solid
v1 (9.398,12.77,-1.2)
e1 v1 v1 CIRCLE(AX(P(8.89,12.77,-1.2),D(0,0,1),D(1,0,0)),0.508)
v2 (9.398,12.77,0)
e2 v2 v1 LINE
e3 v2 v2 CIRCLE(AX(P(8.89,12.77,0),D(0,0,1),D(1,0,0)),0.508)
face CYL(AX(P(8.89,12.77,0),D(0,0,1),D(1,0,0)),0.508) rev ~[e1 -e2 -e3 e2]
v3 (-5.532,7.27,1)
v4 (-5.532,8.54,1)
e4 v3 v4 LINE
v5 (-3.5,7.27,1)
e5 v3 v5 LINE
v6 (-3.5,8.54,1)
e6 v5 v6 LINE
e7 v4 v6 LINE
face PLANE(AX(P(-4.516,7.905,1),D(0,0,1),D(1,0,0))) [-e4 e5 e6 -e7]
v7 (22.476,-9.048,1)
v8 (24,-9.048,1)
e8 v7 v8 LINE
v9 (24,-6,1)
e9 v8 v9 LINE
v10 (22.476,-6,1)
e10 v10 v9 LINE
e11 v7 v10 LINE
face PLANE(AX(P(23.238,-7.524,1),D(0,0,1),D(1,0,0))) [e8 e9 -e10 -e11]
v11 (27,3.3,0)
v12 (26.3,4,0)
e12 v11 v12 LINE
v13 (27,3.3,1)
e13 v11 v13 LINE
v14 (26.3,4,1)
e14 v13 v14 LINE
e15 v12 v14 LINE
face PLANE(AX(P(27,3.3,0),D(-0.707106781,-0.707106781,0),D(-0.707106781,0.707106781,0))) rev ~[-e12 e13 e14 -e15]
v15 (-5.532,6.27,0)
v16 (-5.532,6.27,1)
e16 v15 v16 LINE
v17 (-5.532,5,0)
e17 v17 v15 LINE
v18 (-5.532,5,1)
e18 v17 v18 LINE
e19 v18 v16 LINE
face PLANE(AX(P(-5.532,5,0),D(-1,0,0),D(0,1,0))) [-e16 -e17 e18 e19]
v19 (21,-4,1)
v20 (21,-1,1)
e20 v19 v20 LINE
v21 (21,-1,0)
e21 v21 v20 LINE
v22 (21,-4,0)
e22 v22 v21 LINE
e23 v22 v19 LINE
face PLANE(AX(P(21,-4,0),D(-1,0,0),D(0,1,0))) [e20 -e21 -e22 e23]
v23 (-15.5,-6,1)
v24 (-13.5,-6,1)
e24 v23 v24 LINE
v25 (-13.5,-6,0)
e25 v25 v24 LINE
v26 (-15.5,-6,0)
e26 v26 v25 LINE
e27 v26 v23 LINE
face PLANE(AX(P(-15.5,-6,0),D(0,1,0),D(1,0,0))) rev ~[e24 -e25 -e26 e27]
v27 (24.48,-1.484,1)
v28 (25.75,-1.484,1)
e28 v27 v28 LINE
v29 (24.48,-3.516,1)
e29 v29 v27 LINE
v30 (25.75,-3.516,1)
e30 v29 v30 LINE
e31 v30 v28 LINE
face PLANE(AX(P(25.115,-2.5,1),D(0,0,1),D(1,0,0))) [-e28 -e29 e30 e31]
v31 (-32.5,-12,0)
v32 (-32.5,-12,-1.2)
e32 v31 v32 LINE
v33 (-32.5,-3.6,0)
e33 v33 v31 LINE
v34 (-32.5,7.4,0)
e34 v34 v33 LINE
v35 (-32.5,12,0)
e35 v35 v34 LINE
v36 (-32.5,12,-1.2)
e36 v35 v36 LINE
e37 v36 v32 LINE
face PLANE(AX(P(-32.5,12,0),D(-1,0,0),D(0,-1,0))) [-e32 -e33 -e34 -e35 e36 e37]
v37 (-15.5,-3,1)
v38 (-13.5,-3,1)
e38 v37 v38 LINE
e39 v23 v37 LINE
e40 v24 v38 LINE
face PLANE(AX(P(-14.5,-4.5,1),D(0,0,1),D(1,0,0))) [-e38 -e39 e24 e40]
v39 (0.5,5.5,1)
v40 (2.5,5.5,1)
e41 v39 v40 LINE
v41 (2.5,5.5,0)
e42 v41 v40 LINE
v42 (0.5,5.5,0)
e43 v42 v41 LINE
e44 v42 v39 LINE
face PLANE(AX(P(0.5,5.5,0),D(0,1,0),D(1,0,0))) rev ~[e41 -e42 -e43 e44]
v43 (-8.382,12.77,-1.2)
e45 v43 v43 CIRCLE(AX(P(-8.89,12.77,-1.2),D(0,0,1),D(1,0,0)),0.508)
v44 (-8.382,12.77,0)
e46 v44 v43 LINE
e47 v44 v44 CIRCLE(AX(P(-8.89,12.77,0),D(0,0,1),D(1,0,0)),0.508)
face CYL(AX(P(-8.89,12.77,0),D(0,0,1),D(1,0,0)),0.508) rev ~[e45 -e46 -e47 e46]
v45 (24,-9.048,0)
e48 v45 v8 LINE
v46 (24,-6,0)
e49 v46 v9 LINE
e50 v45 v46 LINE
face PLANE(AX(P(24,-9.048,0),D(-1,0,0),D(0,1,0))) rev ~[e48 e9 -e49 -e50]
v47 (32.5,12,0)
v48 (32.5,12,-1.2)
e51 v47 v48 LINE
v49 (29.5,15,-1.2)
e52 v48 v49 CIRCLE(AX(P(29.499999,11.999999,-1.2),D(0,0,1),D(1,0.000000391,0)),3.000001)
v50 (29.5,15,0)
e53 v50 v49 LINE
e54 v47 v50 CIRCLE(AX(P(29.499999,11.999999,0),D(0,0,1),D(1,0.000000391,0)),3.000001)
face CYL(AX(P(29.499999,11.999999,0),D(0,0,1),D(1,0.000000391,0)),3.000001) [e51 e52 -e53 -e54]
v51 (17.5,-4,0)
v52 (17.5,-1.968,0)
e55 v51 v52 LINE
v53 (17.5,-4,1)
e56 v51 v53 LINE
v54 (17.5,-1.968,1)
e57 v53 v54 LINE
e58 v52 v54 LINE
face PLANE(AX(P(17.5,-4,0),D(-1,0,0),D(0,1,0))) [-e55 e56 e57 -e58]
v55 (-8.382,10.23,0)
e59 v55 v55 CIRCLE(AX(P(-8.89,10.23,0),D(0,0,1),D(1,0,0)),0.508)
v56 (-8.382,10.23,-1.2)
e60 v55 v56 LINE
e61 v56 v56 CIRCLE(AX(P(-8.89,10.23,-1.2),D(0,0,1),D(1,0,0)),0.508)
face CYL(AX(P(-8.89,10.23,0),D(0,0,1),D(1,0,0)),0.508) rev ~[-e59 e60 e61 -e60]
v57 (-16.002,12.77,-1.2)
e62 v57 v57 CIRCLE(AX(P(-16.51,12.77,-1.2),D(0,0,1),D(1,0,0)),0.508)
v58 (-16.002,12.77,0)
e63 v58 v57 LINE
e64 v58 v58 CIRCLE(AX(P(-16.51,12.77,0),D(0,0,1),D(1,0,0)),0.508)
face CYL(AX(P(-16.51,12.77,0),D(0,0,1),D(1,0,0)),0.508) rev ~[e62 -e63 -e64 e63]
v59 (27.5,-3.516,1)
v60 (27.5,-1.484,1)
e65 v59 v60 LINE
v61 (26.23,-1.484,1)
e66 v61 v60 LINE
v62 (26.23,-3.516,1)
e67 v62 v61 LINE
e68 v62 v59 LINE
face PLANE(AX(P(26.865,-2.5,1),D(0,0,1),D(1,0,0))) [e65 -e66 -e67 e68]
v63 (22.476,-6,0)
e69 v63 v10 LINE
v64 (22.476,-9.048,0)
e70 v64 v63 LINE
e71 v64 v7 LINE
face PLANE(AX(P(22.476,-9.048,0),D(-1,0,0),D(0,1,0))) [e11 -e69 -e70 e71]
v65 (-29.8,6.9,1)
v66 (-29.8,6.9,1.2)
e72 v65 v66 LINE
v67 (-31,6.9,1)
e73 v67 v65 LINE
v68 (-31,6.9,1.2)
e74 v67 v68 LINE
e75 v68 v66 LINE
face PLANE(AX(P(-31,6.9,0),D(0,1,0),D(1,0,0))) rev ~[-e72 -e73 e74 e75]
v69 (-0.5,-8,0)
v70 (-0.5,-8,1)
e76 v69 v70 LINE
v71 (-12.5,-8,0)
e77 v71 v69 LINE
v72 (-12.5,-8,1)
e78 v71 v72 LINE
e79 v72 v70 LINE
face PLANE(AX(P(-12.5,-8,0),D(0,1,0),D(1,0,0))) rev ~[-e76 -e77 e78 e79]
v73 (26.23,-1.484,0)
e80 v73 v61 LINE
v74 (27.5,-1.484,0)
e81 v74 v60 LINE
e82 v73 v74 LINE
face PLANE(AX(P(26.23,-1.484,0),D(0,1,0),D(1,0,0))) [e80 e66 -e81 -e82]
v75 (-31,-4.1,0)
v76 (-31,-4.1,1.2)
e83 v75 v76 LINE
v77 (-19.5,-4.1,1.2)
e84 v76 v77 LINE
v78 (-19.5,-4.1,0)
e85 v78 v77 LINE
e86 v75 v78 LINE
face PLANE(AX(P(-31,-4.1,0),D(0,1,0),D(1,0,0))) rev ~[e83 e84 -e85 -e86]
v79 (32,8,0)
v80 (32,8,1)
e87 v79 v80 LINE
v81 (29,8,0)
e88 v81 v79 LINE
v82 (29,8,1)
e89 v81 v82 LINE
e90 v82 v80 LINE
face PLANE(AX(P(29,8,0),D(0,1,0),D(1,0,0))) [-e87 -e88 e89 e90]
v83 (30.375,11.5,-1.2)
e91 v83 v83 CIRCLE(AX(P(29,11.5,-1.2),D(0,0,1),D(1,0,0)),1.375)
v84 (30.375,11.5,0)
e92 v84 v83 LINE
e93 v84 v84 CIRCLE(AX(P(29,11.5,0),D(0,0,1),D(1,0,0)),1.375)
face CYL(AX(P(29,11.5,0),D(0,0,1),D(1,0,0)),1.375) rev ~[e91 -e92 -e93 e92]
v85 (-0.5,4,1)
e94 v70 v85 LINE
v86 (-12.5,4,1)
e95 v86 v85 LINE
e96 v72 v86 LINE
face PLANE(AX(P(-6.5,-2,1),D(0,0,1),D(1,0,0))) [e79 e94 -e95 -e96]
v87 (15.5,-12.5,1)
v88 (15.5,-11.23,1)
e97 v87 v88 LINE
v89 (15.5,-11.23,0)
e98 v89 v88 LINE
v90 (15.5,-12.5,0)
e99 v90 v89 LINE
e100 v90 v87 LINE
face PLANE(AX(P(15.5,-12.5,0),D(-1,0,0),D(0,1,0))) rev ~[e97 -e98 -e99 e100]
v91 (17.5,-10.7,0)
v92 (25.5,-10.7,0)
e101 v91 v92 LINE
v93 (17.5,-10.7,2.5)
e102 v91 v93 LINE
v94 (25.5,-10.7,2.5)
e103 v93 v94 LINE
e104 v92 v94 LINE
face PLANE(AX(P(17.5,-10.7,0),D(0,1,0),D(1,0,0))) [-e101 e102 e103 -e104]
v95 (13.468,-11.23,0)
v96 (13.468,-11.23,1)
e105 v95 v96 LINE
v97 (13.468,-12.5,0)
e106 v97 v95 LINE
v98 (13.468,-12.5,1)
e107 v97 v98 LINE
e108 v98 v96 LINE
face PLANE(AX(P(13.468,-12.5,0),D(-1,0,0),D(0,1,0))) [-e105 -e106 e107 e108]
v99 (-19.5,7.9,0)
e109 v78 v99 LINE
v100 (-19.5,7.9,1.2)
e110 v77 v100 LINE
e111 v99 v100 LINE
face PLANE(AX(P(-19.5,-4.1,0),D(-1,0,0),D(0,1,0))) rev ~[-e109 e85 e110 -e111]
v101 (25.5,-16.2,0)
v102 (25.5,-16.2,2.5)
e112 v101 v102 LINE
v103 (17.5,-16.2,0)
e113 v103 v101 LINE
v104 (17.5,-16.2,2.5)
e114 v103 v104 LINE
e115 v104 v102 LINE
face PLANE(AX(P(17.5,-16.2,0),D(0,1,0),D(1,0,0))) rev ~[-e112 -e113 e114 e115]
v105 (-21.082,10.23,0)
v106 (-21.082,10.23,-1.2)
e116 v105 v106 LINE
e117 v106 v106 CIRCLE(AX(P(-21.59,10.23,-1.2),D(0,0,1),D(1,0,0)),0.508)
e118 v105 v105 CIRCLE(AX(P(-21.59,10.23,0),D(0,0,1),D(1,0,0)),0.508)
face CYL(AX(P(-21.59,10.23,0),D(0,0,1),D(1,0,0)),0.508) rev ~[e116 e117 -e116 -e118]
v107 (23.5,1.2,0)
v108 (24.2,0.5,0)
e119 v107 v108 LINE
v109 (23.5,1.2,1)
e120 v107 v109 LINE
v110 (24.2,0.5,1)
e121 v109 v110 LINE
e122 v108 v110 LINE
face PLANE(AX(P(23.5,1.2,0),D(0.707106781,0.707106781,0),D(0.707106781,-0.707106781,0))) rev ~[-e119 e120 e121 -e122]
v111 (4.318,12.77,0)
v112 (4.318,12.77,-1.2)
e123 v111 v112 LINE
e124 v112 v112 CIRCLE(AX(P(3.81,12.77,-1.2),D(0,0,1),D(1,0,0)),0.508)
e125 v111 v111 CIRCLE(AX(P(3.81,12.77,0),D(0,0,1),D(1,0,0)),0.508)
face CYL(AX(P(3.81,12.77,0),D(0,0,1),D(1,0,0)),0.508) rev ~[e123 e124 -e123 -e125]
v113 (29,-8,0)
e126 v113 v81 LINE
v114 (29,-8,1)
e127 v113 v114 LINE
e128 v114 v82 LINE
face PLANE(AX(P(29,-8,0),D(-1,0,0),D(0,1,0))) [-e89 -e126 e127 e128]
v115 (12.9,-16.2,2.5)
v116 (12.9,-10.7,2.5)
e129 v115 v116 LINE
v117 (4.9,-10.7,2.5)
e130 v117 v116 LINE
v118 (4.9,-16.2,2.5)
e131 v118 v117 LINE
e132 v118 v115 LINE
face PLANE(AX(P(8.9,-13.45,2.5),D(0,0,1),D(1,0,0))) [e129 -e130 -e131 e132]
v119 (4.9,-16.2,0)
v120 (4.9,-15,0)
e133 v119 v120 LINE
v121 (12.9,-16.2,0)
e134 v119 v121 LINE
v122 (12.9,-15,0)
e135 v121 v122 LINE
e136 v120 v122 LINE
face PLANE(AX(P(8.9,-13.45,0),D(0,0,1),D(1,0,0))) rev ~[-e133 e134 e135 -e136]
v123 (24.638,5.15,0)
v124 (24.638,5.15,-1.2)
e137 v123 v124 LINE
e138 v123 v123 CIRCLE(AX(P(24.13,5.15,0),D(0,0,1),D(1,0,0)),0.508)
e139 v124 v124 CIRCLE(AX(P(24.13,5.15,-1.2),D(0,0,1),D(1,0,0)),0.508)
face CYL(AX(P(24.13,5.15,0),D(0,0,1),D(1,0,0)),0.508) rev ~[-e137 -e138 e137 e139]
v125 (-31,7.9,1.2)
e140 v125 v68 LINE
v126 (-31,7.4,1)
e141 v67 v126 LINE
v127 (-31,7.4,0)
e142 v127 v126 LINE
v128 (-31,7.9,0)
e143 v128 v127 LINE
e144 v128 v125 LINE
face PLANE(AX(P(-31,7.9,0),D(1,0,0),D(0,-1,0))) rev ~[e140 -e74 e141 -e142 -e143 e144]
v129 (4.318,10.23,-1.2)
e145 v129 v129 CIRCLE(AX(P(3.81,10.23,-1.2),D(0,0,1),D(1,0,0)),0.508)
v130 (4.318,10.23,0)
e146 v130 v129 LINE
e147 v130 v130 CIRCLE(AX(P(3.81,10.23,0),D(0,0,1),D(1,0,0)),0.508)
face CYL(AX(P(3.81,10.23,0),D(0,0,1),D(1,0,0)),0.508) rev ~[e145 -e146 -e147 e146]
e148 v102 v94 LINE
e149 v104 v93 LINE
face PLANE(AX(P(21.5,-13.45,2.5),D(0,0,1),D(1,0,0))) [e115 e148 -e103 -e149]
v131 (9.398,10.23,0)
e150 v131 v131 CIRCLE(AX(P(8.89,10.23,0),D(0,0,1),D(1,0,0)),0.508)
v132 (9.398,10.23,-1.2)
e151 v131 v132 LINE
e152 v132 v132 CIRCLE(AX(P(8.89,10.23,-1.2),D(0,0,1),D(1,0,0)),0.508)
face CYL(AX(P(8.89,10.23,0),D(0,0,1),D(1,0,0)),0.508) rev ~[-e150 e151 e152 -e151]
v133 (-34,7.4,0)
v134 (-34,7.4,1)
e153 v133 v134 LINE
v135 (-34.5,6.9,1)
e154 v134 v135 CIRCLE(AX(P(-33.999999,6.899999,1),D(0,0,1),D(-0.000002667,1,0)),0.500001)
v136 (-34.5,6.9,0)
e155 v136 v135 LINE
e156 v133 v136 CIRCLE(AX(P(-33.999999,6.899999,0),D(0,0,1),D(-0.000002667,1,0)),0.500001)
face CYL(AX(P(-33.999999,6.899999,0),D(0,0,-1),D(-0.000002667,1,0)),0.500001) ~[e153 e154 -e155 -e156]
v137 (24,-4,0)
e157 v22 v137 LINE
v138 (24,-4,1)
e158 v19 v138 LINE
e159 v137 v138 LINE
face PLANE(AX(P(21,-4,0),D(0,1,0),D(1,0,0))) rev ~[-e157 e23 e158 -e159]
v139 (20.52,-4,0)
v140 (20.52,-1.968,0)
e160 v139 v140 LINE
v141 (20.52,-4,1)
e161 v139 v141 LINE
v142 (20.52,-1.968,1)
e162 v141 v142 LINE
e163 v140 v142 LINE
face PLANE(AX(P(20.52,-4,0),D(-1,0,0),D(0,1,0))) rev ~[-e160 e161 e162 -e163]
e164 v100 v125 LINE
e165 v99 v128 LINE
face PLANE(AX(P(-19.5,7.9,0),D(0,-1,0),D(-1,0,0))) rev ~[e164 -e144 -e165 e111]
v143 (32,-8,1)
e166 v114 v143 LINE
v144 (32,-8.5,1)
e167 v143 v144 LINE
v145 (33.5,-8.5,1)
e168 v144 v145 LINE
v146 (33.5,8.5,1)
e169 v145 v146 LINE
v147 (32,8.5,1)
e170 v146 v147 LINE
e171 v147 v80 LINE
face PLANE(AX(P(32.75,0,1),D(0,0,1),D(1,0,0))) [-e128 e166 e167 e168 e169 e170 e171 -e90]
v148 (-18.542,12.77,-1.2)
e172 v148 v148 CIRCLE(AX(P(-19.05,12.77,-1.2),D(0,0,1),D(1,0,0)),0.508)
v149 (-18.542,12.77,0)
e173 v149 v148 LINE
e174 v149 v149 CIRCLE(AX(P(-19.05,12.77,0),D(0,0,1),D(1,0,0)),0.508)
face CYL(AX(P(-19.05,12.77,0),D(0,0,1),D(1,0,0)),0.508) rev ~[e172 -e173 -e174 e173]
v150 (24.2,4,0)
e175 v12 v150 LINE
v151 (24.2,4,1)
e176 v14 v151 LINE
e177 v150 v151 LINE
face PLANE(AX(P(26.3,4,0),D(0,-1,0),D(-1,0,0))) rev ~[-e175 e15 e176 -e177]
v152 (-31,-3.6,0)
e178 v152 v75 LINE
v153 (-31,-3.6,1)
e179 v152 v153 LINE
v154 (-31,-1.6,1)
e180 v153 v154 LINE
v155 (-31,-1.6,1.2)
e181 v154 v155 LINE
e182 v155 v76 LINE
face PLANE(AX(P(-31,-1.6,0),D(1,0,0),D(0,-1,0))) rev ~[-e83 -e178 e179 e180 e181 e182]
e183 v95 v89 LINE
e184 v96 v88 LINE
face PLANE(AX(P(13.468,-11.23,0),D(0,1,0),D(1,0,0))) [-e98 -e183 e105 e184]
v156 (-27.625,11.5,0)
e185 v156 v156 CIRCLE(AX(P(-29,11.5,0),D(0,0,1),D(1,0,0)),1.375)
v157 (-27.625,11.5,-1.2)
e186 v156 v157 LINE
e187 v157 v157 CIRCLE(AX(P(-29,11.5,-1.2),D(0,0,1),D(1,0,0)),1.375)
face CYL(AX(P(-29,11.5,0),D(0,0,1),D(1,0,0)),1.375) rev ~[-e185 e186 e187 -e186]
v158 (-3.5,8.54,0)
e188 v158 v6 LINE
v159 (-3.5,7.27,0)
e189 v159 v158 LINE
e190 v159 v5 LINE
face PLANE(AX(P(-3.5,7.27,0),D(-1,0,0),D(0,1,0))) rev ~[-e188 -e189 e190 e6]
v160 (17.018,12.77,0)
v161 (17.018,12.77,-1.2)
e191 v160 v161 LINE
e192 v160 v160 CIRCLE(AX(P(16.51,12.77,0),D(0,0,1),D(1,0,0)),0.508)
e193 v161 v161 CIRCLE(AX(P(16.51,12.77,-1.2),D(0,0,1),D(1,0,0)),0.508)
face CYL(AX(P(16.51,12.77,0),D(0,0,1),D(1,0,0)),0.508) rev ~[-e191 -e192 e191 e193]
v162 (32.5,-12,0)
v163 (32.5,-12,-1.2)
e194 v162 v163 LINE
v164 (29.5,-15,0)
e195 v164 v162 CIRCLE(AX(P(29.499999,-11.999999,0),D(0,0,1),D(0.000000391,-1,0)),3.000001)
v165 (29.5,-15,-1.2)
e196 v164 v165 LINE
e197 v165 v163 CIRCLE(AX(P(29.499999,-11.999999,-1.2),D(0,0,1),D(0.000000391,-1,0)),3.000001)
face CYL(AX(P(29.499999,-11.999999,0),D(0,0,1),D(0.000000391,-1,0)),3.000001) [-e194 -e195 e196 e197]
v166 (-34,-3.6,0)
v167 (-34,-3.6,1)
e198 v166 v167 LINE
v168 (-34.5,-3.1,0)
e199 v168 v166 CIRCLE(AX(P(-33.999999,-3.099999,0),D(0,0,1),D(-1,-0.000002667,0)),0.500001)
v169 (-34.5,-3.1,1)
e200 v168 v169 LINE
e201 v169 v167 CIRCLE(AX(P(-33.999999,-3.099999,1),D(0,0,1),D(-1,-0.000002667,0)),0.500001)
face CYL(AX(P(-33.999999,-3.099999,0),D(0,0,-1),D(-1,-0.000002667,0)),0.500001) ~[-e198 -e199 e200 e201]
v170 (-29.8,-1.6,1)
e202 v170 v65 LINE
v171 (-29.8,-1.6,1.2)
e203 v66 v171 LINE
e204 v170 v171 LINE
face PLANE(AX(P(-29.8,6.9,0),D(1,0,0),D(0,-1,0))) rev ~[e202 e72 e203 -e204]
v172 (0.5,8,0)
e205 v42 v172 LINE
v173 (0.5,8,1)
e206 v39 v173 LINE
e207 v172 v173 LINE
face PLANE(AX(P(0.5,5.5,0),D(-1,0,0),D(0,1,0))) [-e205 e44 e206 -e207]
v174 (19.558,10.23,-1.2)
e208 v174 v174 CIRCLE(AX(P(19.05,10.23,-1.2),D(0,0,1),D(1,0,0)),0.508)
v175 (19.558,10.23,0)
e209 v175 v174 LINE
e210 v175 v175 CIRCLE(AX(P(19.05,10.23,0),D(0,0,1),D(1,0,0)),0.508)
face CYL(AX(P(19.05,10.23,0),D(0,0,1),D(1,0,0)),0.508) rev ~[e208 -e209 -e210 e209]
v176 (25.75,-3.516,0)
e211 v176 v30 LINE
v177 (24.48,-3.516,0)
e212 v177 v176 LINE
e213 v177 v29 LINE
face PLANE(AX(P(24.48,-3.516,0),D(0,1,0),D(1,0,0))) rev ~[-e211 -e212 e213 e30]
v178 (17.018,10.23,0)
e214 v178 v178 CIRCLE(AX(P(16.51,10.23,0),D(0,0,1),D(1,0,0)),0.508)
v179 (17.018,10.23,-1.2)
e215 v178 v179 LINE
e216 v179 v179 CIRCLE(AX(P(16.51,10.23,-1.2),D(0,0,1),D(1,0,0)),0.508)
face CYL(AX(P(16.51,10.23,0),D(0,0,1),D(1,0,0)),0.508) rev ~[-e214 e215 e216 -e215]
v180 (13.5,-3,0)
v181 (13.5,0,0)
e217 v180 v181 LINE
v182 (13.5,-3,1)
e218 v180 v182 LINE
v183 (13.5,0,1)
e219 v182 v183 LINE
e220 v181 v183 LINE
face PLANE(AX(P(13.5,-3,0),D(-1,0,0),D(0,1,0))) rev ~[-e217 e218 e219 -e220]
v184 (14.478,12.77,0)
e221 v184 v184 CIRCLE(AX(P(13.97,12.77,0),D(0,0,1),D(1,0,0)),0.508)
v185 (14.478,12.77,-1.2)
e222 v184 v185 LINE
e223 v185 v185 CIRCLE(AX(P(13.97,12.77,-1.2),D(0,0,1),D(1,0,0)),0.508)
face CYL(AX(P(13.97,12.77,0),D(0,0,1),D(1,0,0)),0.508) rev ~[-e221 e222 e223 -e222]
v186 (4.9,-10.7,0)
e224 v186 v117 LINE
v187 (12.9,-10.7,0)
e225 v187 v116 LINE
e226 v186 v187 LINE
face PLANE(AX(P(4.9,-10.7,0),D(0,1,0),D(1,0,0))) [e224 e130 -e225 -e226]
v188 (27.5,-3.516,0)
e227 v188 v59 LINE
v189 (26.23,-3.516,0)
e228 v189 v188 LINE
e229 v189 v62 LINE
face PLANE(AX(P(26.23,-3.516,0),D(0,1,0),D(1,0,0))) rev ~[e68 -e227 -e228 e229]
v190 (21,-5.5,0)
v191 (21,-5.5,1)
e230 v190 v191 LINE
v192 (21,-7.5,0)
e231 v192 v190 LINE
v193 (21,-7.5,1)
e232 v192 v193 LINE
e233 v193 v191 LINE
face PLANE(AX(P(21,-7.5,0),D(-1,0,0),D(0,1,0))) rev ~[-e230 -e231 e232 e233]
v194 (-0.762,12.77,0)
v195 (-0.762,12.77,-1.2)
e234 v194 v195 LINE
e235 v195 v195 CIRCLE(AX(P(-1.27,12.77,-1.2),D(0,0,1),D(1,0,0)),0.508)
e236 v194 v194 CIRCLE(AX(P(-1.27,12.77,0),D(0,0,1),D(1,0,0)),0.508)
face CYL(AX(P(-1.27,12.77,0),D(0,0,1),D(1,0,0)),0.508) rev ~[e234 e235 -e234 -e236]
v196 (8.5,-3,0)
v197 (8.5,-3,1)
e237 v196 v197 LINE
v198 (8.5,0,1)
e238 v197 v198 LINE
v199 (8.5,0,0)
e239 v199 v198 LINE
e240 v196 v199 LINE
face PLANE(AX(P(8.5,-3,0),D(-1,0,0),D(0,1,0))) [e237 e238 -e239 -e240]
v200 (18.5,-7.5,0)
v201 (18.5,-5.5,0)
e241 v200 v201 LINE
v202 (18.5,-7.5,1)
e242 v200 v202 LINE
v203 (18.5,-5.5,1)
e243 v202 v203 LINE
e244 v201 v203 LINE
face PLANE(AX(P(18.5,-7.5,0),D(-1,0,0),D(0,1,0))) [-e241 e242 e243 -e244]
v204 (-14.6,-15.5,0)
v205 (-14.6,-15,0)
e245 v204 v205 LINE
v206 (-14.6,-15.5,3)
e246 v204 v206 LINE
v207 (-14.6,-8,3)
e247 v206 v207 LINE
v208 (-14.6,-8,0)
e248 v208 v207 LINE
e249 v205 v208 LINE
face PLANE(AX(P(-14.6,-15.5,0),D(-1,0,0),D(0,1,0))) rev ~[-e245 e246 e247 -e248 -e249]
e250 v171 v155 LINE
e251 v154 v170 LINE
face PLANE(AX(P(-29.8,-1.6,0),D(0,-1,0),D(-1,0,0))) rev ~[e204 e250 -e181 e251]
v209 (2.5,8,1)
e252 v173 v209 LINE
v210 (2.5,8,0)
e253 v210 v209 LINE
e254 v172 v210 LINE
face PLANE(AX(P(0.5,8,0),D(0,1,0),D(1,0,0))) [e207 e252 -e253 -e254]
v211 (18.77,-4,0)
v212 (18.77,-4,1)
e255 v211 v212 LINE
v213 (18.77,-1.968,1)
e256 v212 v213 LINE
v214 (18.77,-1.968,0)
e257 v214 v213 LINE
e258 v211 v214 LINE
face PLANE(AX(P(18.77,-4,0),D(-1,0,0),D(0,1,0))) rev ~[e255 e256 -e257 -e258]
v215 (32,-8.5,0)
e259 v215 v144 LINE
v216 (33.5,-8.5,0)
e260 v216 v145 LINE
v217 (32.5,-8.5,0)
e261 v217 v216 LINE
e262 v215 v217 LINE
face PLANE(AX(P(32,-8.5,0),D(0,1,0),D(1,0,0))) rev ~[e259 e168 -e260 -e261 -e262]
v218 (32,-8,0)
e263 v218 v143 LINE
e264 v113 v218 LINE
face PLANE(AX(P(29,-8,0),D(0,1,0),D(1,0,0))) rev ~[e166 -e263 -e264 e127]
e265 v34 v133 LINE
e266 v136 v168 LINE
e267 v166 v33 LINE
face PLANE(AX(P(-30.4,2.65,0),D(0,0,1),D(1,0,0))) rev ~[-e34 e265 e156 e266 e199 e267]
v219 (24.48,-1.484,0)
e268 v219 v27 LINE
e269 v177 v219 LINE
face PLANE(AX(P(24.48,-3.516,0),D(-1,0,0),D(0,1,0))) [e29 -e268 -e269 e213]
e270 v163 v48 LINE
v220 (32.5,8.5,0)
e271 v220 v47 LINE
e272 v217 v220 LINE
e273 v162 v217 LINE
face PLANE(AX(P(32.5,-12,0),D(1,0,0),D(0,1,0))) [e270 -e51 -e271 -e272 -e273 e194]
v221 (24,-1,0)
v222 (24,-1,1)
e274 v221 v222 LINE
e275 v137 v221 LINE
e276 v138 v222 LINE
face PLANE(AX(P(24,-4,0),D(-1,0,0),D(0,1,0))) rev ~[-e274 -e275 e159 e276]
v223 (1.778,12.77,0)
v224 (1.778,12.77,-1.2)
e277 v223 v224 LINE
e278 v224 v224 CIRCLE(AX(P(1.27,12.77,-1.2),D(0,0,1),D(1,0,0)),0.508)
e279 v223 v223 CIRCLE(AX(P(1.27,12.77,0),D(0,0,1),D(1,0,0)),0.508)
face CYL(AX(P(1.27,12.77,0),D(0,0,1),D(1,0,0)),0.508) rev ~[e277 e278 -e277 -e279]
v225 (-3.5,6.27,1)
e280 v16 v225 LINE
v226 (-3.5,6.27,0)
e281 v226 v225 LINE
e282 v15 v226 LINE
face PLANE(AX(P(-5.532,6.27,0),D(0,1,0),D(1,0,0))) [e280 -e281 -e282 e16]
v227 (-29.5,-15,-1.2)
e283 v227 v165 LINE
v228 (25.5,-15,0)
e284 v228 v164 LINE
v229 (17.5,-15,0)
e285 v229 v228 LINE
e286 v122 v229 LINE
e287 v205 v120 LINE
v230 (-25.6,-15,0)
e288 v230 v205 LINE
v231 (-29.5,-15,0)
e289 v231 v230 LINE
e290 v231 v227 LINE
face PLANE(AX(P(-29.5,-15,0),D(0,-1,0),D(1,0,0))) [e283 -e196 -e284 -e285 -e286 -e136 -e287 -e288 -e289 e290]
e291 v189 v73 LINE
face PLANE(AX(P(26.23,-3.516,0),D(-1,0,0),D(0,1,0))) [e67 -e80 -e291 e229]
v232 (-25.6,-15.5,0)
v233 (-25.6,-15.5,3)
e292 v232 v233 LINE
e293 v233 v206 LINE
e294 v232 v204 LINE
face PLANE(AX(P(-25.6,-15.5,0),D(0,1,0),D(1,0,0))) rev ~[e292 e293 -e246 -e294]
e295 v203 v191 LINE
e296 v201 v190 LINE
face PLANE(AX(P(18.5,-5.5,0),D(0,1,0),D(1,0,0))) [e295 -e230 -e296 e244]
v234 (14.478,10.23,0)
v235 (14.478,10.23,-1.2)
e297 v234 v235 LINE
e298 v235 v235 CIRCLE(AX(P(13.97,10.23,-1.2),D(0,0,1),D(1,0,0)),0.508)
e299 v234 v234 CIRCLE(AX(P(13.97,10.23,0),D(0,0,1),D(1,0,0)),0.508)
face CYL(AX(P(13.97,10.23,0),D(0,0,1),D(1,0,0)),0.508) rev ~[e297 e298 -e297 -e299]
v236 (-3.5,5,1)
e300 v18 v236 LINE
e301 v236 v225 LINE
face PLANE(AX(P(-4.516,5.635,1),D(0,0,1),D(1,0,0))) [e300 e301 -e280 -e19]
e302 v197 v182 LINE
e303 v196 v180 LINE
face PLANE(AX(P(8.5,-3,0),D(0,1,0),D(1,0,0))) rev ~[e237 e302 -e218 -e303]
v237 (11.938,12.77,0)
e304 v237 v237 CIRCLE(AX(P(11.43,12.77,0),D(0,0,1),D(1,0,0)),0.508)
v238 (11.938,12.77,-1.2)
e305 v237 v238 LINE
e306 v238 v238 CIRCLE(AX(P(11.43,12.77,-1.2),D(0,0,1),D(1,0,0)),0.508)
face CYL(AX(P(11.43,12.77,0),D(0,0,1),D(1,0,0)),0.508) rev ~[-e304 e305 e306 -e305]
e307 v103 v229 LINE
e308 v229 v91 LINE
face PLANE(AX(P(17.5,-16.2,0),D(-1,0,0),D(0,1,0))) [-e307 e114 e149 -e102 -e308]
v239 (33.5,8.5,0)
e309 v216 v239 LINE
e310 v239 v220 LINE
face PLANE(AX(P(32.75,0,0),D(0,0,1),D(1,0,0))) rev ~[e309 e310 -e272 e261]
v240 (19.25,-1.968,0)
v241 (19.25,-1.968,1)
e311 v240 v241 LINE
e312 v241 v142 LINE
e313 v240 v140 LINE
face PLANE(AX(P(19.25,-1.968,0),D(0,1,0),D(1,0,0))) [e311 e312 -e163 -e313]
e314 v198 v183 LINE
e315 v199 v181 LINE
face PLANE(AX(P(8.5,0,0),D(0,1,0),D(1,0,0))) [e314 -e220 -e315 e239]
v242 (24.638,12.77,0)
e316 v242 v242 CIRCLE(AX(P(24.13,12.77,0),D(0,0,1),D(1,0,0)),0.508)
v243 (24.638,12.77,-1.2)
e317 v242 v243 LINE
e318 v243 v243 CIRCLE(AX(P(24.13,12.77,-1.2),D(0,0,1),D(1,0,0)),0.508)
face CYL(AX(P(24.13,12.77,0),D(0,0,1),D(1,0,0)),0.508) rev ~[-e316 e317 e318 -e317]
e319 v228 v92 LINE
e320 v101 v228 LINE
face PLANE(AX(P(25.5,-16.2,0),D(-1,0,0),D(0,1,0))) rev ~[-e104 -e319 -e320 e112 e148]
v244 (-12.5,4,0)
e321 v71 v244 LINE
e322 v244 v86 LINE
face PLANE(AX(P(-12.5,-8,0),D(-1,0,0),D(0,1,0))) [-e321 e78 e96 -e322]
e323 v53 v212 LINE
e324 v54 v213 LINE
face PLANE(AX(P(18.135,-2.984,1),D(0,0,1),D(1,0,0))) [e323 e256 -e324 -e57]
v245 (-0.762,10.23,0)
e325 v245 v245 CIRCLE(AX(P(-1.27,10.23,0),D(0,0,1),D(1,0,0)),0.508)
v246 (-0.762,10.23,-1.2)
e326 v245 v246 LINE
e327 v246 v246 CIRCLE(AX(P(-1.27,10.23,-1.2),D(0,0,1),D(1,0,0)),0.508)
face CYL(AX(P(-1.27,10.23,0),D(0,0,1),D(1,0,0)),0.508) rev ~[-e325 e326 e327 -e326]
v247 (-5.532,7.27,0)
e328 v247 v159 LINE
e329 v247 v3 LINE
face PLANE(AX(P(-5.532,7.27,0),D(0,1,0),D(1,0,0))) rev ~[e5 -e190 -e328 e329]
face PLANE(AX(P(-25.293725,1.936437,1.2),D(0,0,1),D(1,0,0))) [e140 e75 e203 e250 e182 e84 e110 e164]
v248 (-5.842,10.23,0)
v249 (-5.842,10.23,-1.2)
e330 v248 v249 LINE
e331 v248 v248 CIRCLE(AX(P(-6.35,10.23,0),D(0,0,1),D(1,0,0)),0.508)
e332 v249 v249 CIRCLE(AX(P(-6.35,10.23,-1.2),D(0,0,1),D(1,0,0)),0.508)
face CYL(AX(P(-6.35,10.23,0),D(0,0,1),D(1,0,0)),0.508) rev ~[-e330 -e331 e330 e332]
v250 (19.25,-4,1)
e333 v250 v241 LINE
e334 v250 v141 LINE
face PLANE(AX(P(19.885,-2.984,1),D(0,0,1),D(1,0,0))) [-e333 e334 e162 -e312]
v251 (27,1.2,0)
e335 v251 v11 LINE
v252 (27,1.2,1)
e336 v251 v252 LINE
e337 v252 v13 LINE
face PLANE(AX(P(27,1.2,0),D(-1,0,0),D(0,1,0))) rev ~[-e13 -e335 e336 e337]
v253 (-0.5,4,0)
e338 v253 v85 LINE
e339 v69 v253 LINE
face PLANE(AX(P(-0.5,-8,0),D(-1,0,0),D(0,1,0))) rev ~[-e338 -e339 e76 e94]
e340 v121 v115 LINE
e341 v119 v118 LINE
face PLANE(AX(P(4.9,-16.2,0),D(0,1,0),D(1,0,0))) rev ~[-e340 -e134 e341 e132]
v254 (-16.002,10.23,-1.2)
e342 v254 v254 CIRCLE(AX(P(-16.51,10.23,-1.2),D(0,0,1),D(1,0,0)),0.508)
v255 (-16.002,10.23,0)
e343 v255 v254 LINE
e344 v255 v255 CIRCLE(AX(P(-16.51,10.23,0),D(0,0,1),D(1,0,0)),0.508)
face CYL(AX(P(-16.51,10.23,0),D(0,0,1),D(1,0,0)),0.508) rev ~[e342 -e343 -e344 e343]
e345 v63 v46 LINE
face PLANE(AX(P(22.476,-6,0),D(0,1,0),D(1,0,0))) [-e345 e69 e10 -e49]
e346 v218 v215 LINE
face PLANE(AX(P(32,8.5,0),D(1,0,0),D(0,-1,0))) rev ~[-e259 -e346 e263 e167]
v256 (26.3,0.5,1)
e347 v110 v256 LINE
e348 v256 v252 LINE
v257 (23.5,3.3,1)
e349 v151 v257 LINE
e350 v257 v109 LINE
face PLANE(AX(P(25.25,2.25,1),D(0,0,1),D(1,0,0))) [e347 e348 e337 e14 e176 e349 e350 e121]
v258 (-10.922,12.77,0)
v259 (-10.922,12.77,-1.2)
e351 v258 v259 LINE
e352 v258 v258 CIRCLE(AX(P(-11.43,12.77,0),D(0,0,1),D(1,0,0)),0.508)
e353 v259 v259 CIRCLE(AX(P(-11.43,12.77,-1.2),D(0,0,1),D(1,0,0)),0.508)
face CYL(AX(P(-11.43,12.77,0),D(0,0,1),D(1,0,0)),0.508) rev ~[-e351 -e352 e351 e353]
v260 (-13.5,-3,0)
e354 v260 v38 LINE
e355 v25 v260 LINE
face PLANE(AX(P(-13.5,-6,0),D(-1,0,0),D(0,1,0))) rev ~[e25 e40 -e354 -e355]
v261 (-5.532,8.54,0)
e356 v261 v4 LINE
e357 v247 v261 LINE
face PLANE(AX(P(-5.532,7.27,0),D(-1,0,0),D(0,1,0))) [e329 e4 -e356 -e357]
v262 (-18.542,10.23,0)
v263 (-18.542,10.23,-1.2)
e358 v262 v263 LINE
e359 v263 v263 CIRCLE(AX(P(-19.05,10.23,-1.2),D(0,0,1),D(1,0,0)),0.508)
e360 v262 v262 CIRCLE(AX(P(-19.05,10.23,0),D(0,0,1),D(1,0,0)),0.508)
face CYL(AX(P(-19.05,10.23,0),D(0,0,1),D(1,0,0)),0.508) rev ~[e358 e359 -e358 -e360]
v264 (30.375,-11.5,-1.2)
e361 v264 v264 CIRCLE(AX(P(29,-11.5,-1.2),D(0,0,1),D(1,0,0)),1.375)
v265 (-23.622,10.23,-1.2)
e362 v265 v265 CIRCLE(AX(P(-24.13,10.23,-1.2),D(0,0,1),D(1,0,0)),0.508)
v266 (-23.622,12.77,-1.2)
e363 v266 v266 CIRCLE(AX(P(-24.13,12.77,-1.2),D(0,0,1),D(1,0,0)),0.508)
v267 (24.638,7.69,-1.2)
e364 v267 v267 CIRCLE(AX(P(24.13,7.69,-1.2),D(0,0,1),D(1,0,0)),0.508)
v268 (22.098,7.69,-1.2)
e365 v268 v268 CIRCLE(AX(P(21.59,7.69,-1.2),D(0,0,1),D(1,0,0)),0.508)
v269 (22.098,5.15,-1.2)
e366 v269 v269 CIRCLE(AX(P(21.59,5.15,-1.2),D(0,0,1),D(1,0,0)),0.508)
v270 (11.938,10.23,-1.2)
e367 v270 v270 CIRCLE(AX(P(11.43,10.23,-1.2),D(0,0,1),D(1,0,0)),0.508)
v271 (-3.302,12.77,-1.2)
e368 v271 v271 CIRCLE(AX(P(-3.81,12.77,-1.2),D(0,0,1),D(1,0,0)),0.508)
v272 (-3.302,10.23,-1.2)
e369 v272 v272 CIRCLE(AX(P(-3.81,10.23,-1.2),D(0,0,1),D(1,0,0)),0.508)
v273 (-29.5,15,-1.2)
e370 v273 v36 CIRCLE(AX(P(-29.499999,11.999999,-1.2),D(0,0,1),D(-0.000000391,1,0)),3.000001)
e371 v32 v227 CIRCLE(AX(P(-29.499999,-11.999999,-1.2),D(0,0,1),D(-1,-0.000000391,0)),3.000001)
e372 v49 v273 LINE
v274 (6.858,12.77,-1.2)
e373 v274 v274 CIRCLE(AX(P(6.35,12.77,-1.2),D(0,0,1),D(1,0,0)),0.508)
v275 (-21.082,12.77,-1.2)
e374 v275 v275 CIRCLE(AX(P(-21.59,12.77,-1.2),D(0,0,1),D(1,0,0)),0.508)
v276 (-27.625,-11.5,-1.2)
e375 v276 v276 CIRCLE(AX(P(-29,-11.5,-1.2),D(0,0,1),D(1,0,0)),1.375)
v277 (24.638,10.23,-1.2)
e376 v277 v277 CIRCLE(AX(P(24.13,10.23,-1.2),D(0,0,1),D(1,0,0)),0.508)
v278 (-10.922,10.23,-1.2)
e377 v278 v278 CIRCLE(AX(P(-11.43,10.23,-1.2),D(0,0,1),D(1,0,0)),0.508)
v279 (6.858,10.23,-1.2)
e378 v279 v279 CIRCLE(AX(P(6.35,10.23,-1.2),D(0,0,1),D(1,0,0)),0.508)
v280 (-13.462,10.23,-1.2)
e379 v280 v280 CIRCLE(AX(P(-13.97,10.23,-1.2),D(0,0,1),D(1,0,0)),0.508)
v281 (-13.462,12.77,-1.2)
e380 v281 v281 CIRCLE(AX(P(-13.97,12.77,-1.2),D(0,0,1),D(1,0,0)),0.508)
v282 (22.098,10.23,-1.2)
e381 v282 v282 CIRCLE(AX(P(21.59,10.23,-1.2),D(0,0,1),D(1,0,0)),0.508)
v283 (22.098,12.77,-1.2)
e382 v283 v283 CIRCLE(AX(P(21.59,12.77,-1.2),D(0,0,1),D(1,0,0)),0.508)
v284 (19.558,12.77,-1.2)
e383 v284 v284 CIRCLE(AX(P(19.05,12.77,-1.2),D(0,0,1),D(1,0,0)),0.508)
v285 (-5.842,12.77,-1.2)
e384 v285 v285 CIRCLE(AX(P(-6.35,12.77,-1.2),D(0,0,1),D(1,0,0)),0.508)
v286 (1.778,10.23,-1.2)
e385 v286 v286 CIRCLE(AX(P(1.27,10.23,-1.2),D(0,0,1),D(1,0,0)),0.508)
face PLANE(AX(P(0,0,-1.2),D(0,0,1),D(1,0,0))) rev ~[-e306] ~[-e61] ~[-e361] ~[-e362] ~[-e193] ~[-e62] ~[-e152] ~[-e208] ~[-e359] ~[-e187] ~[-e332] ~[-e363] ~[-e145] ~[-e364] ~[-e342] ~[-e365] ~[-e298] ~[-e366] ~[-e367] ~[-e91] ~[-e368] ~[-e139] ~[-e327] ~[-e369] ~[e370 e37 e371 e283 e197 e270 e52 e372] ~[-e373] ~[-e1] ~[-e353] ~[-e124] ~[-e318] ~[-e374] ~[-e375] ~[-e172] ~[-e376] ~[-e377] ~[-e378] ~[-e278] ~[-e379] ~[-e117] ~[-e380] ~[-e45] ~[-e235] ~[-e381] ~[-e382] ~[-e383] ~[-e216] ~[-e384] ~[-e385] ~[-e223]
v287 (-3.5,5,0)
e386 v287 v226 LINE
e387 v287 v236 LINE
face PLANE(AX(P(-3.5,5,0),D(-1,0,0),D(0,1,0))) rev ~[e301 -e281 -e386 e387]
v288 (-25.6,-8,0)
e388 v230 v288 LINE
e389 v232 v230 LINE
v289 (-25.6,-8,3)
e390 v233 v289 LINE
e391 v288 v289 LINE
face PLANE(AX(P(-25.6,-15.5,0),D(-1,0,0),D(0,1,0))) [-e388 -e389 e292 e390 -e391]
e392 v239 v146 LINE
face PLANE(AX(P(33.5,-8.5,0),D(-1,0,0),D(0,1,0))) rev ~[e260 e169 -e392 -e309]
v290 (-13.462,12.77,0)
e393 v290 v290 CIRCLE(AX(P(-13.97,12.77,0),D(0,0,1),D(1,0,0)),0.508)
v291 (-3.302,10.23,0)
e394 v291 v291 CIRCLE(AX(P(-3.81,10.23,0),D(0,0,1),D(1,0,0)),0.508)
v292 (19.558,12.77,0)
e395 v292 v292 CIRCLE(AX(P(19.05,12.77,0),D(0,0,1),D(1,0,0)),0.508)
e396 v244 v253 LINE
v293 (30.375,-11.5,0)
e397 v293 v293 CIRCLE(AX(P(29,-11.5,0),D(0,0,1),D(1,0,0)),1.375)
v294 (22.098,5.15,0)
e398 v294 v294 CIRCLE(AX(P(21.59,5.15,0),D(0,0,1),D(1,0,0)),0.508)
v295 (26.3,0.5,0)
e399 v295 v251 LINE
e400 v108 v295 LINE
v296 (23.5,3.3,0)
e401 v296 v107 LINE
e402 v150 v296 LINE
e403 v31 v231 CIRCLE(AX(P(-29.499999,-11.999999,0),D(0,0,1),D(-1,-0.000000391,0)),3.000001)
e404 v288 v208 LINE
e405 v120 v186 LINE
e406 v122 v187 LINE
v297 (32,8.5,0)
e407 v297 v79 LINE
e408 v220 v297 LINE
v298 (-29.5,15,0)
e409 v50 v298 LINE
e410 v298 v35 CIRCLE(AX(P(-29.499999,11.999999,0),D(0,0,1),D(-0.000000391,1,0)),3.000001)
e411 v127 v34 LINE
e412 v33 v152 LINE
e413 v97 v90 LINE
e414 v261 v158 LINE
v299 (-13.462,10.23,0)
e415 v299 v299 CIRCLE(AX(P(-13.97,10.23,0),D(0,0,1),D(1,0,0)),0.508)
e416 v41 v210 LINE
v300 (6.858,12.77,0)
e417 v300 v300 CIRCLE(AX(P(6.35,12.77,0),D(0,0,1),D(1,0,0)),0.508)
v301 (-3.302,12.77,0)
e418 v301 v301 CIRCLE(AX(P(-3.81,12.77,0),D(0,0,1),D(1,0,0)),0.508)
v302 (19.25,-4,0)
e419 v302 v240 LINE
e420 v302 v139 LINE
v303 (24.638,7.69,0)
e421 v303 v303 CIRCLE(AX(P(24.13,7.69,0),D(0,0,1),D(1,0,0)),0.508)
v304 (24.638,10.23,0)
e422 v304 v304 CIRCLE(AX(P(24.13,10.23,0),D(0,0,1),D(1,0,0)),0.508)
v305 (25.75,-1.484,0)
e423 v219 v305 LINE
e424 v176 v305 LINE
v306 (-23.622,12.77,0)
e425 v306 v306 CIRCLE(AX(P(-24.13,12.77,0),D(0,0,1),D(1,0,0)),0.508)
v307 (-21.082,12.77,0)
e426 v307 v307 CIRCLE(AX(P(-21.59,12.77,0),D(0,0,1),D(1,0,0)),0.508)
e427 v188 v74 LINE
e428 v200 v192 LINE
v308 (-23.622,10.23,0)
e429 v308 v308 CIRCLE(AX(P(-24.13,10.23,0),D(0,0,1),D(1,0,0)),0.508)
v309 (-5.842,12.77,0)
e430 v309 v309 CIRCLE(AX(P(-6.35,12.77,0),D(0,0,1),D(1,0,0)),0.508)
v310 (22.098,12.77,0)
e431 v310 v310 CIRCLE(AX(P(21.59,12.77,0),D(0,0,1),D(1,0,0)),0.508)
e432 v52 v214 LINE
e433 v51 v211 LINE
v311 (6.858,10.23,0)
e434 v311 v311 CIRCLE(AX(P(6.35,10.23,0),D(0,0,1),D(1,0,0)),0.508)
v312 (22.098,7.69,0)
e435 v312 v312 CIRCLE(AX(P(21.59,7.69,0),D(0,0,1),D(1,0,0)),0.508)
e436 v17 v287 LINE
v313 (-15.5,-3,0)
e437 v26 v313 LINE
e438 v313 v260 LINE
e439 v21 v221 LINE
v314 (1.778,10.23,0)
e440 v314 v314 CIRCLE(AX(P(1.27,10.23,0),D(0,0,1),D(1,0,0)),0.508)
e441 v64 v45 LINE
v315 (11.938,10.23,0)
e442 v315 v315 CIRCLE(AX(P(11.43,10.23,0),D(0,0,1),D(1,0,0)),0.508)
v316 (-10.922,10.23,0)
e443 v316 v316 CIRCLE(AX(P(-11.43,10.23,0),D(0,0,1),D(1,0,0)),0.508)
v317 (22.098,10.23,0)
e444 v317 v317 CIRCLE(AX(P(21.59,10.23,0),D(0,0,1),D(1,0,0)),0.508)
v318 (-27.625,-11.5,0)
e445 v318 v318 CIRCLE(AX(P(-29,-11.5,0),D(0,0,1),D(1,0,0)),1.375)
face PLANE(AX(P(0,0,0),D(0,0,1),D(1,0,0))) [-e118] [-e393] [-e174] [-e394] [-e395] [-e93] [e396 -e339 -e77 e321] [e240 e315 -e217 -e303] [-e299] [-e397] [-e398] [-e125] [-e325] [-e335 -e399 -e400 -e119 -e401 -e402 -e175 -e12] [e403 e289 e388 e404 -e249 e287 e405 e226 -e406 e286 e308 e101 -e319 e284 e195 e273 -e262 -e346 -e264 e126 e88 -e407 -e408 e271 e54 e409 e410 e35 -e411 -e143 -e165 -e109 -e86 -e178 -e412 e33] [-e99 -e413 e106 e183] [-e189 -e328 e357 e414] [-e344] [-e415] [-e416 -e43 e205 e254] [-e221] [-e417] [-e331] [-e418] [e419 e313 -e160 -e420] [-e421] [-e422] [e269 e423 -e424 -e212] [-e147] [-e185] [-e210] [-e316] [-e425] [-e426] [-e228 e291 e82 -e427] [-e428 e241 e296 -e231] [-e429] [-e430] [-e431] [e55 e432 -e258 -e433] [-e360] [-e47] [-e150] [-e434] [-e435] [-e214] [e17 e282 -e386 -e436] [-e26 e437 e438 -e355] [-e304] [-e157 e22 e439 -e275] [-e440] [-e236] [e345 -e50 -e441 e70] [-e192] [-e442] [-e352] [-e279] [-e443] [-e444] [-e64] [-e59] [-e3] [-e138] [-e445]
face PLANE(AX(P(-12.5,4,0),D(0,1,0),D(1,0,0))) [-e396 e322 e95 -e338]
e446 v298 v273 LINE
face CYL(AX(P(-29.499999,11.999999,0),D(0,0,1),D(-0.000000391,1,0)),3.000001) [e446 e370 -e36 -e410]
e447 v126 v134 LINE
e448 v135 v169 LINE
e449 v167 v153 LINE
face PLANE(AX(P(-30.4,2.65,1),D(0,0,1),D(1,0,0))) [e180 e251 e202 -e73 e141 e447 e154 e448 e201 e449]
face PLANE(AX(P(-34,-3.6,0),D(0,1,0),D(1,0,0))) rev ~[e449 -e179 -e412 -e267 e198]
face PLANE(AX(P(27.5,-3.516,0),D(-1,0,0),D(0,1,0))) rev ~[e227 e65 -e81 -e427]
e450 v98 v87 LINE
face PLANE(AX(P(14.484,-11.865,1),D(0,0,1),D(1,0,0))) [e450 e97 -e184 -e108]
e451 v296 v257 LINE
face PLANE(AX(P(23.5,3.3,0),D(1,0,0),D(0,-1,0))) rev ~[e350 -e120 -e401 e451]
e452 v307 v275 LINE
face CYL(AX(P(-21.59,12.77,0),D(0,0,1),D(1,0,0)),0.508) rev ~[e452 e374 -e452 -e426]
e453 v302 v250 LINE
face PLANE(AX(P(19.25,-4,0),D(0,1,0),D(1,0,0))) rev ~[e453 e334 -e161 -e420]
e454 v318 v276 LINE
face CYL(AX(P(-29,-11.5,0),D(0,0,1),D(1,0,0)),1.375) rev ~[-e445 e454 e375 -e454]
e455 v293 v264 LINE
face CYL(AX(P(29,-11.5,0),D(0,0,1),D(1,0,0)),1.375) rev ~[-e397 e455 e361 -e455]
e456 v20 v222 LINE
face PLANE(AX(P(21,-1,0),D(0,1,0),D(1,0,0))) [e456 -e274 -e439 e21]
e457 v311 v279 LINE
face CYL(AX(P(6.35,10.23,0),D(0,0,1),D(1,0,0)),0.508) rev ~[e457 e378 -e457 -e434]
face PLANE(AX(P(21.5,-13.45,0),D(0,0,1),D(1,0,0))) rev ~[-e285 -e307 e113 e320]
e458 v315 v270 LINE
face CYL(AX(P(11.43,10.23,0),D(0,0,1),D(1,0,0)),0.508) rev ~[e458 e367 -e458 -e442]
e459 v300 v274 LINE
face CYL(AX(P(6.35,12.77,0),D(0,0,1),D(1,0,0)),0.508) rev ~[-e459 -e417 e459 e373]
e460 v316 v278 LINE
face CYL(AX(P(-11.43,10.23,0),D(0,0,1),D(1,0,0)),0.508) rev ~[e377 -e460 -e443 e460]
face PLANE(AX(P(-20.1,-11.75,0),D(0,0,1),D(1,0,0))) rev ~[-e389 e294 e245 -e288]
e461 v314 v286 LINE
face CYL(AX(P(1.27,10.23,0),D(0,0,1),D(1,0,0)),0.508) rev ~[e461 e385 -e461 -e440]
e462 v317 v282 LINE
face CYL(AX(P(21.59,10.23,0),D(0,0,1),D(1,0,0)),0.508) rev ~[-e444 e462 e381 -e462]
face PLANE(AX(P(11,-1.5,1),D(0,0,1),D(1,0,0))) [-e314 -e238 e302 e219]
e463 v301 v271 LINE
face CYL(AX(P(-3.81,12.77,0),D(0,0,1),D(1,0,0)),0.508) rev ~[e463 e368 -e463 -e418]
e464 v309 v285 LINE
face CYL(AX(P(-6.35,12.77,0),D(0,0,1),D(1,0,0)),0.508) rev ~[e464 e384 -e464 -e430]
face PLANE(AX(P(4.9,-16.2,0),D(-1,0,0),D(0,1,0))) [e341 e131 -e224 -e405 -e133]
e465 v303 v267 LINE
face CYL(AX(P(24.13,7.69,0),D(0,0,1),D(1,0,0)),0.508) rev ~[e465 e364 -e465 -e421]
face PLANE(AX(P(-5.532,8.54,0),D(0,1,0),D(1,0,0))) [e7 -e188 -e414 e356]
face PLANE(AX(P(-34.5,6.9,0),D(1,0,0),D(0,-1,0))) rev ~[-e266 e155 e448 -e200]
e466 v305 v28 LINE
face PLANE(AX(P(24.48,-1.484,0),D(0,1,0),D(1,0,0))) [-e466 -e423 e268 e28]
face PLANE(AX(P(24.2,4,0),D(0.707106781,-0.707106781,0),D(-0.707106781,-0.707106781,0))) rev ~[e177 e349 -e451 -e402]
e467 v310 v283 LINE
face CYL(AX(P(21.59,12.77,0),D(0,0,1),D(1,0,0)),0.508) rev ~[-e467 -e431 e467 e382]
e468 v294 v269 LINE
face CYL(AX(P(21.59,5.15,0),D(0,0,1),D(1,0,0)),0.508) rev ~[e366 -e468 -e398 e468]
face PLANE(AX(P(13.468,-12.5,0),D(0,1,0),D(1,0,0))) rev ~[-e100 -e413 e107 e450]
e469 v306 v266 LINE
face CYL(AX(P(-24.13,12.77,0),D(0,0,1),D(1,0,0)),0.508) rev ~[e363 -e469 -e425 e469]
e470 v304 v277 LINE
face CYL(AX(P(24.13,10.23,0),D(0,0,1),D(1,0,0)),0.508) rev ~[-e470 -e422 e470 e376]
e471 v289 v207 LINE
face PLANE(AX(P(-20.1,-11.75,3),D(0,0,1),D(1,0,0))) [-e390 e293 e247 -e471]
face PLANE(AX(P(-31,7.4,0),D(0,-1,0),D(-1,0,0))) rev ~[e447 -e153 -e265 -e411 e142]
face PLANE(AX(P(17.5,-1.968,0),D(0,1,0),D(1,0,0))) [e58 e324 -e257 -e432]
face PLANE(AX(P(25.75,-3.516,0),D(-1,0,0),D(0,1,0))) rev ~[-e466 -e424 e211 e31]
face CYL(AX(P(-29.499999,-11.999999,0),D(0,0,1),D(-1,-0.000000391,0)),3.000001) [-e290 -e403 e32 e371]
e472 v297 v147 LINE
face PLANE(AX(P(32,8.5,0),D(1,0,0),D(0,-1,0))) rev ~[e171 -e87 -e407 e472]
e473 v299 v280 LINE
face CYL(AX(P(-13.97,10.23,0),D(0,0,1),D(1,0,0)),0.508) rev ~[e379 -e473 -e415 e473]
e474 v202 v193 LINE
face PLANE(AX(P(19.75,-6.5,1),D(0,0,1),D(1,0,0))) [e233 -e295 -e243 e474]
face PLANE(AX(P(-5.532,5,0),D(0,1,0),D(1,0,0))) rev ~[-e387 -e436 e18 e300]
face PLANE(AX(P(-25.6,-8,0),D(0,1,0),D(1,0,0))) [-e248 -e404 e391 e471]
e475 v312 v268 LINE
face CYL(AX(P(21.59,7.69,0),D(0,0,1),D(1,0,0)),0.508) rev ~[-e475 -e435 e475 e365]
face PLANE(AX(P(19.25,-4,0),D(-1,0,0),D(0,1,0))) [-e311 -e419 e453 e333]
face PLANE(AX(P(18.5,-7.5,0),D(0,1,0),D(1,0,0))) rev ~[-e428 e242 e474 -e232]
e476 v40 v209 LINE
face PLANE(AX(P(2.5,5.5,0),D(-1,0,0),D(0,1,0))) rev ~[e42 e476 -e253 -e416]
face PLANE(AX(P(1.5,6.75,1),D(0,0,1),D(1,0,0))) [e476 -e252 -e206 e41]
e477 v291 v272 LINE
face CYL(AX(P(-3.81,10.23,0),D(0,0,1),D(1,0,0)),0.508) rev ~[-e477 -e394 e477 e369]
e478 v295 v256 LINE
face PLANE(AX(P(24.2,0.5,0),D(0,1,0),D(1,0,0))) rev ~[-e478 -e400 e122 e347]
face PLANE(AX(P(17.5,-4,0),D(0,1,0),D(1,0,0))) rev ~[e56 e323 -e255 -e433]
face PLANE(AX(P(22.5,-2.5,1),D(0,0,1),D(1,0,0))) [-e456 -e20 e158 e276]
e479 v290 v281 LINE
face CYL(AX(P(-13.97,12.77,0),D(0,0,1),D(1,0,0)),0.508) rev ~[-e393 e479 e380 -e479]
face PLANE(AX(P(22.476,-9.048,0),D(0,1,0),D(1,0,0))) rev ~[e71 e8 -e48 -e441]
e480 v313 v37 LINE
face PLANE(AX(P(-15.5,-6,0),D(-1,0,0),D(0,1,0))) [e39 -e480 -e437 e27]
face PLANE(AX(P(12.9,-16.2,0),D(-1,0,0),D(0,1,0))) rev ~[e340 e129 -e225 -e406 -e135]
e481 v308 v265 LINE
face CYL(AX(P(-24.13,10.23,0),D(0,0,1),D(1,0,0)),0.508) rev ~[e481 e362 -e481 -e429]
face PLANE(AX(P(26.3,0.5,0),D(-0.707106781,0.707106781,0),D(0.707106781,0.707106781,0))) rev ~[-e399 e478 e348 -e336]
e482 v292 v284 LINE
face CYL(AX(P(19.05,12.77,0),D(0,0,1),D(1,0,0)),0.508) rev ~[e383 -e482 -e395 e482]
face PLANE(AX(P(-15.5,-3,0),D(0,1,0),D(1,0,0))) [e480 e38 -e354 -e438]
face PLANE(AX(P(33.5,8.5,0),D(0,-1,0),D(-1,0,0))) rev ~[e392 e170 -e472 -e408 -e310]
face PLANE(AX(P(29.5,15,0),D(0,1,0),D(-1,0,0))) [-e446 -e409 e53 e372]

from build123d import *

# Parameters (mm, degrees)
F0_R      = 3
F0_R_2    = 0.508
F0_R_3    = 1.375
F3_DEPTH  = 1.2
F4_DEPTH  = 1
F1_W      = 3
F1_H      = 16
F5_DEPTH  = 1
F1_W_2    = 8
F1_H_2    = 5.5
F6_DEPTH  = 2.5
F1_W_3    = 11
F1_H_3    = 7.5
F7_DEPTH  = 3
F8_DEPTH  = 1.2
F1_W_4    = 1.2
F1_H_4    = 8.5
F9_DEPTH  = 1
F2_W      = 12
F2_H      = 12
F2_W_2    = 2.032
F2_H_2    = 1.27
F2_W_3    = 1.27
F2_H_3    = 2.032
F2_W_4    = 2
F2_H_4    = 3
F2_W_5    = 5
F2_W_6    = 3
F2_H_5    = 2.5
F2_W_7    = 2.5
F2_H_6    = 2
F2_W_8    = 1.524
F2_H_7    = 3.048
F10_DEPTH = 1


with BuildPart() as f3:
    # F0 (on Top) → F3 (new body)
    with BuildSketch(Plane.XY):
        with BuildLine():
            ThreePointArc((32.5, 12), (31.62132, 14.12132), (29.5, 15))
            Line((29.5, 15), (-29.5, 15))
            ThreePointArc((-29.5, 15), (-31.62132, 14.12132), (-32.5, 12))
            Line((-32.5, 12), (-32.5, -12))
            ThreePointArc((-32.5, -12), (-31.62132, -14.12132), (-29.5, -15))
            Line((-29.5, -15), (29.5, -15))
            ThreePointArc((29.5, -15), (31.62132, -14.12132), (32.5, -12))
            Line((32.5, -12), (32.5, 12))
        make_face()
        with Locations((-29, -11.5)):
            Circle(F0_R, mode=Mode.SUBTRACT)
        with Locations((29, -11.5)):
            Circle(F0_R, mode=Mode.SUBTRACT)
        with Locations((-24.13, 10.23)):
            Circle(F0_R_2, mode=Mode.SUBTRACT)
        with Locations((-21.59, 10.23)):
            Circle(F0_R_2, mode=Mode.SUBTRACT)
        with Locations((-19.05, 10.23)):
            Circle(F0_R_2, mode=Mode.SUBTRACT)
        with Locations((-16.51, 10.23)):
            Circle(F0_R_2, mode=Mode.SUBTRACT)
        with Locations((-29, 11.5)):
            Circle(F0_R, mode=Mode.SUBTRACT)
        with Locations((-24.13, 12.77)):
            Circle(F0_R_2, mode=Mode.SUBTRACT)
        with Locations((-21.59, 12.77)):
            Circle(F0_R_2, mode=Mode.SUBTRACT)
        with Locations((-19.05, 12.77)):
            Circle(F0_R_2, mode=Mode.SUBTRACT)
        with Locations((-16.51, 12.77)):
            Circle(F0_R_2, mode=Mode.SUBTRACT)
        with Locations((-13.97, 10.23)):
            Circle(F0_R_2, mode=Mode.SUBTRACT)
        with Locations((-11.43, 10.23)):
            Circle(F0_R_2, mode=Mode.SUBTRACT)
        with Locations((-8.89, 10.23)):
            Circle(F0_R_2, mode=Mode.SUBTRACT)
        with Locations((-6.35, 10.23)):
            Circle(F0_R_2, mode=Mode.SUBTRACT)
        with Locations((-3.81, 10.23)):
            Circle(F0_R_2, mode=Mode.SUBTRACT)
        with Locations((-1.27, 10.23)):
            Circle(F0_R_2, mode=Mode.SUBTRACT)
        with Locations((-13.97, 12.77)):
            Circle(F0_R_2, mode=Mode.SUBTRACT)
        with Locations((-11.43, 12.77)):
            Circle(F0_R_2, mode=Mode.SUBTRACT)
        with Locations((-8.89, 12.77)):
            Circle(F0_R_2, mode=Mode.SUBTRACT)
        with Locations((-6.35, 12.77)):
            Circle(F0_R_2, mode=Mode.SUBTRACT)
        with Locations((-3.81, 12.77)):
            Circle(F0_R_2, mode=Mode.SUBTRACT)
        with Locations((-1.27, 12.77)):
            Circle(F0_R_2, mode=Mode.SUBTRACT)
        with Locations((21.59, 5.15)):
            Circle(F0_R_2, mode=Mode.SUBTRACT)
        with Locations((24.13, 5.15)):
            Circle(F0_R_2, mode=Mode.SUBTRACT)
        with Locations((1.27, 10.23)):
            Circle(F0_R_2, mode=Mode.SUBTRACT)
        with Locations((3.81, 10.23)):
            Circle(F0_R_2, mode=Mode.SUBTRACT)
        with Locations((6.35, 10.23)):
            Circle(F0_R_2, mode=Mode.SUBTRACT)
        with Locations((8.89, 10.23)):
            Circle(F0_R_2, mode=Mode.SUBTRACT)
        with Locations((11.43, 10.23)):
            Circle(F0_R_2, mode=Mode.SUBTRACT)
        with Locations((13.97, 10.23)):
            Circle(F0_R_2, mode=Mode.SUBTRACT)
        with Locations((1.27, 12.77)):
            Circle(F0_R_2, mode=Mode.SUBTRACT)
        with Locations((3.81, 12.77)):
            Circle(F0_R_2, mode=Mode.SUBTRACT)
        with Locations((6.35, 12.77)):
            Circle(F0_R_2, mode=Mode.SUBTRACT)
        with Locations((8.89, 12.77)):
            Circle(F0_R_2, mode=Mode.SUBTRACT)
        with Locations((11.43, 12.77)):
            Circle(F0_R_2, mode=Mode.SUBTRACT)
        with Locations((13.97, 12.77)):
            Circle(F0_R_2, mode=Mode.SUBTRACT)
        with Locations((21.59, 7.69)):
            Circle(F0_R_2, mode=Mode.SUBTRACT)
        with Locations((24.13, 7.69)):
            Circle(F0_R_2, mode=Mode.SUBTRACT)
        with Locations((16.51, 10.23)):
            Circle(F0_R_2, mode=Mode.SUBTRACT)
        with Locations((19.05, 10.23)):
            Circle(F0_R_2, mode=Mode.SUBTRACT)
        with Locations((21.59, 10.23)):
            Circle(F0_R_2, mode=Mode.SUBTRACT)
        with Locations((24.13, 10.23)):
            Circle(F0_R_2, mode=Mode.SUBTRACT)
        with Locations((16.51, 12.77)):
            Circle(F0_R_2, mode=Mode.SUBTRACT)
        with Locations((19.05, 12.77)):
            Circle(F0_R_2, mode=Mode.SUBTRACT)
        with Locations((21.59, 12.77)):
            Circle(F0_R_2, mode=Mode.SUBTRACT)
        with Locations((24.13, 12.77)):
            Circle(F0_R_2, mode=Mode.SUBTRACT)
        with Locations((29, 11.5)):
            Circle(F0_R, mode=Mode.SUBTRACT)
        with Locations((-29, -11.5)):
            Circle(F0_R)
        with Locations((-29, -11.5)):
            Circle(F0_R_3, mode=Mode.SUBTRACT)
        with Locations((-29, 11.5)):
            Circle(F0_R)
        with Locations((-29, 11.5)):
            Circle(F0_R_3, mode=Mode.SUBTRACT)
        with Locations((29, 11.5)):
            Circle(F0_R)
        with Locations((29, 11.5)):
            Circle(F0_R_3, mode=Mode.SUBTRACT)
        with Locations((29, -11.5)):
            Circle(F0_R)
        with Locations((29, -11.5)):
            Circle(F0_R_3, mode=Mode.SUBTRACT)
    extrude(amount=-F3_DEPTH)

    # F1 (on Top) → F4 (join)
    with BuildSketch(Plane.XY):
        Polygon((32, -8.5), (33.5, -8.5), (33.5, 8.5), (32, 8.5), (32, 8), (32, -8), align=None)
    extrude(amount=F4_DEPTH)

    # F1 (on Top) → F5 (join)
    with BuildSketch(Plane.XY):
        with Locations((30.5, 0)):
            Rectangle(F1_W, F1_H)
    extrude(amount=F5_DEPTH)

    # F1 (on Top) → F6 (join)
    with BuildSketch(Plane.XY):
        with Locations((21.5, -13.45)):
            Rectangle(F1_W_2, F1_H_2)
        with Locations((8.9, -13.45)):
            Rectangle(F1_W_2, F1_H_2)
    extrude(amount=F6_DEPTH)

    # F1 (on Top) → F7 (join)
    with BuildSketch(Plane.XY):
        with Locations((-20.1, -11.75)):
            Rectangle(F1_W_3, F1_H_3)
    extrude(amount=F7_DEPTH)

    # F1 (on Top) → F8 (join)
    with BuildSketch(Plane.XY):
        Polygon((-19.5, -4.1), (-19.5, 7.9), (-31, 7.9), (-31, 7.4), (-31, 6.9), (-29.8, 6.9), (-29.8, -1.6), (-31, -1.6), (-31, -3.6), (-31, -4.1), align=None)
    extrude(amount=F8_DEPTH)

    # F1 (on Top) → F9 (join)
    with BuildSketch(Plane.XY):
        with Locations((-30.4, 2.65)):
            Rectangle(F1_W_4, F1_H_4)
        with BuildLine():
            Line((-31, 6.9), (-31, 7.4))
            Line((-31, 7.4), (-34, 7.4))
            ThreePointArc((-34, 7.4), (-34.353553, 7.253553), (-34.5, 6.9))
            Line((-34.5, 6.9), (-34.5, -3.1))
            ThreePointArc((-34.5, -3.1), (-34.353553, -3.453553), (-34, -3.6))
            Line((-34, -3.6), (-31, -3.6))
            Line((-31, -3.6), (-31, -1.6))
            Line((-31, -1.6), (-31, 6.9))
        make_face()
    extrude(amount=F9_DEPTH)

    # F2 (on Top) → F10 (join)
    with BuildSketch(Plane.XY):
        with Locations((-6.5, -2)):
            Rectangle(F2_W, F2_H)
        with Locations((-4.516, 7.905)):
            Rectangle(F2_W_2, F2_H_2)
        with Locations((-4.516, 5.635)):
            Rectangle(F2_W_2, F2_H_2)
        with Locations((14.484, -11.865)):
            Rectangle(F2_W_2, F2_H_2)
        with Locations((18.135, -2.984)):
            Rectangle(F2_W_3, F2_H_3)
        with Locations((19.885, -2.984)):
            Rectangle(F2_W_3, F2_H_3)
        with Locations((25.115, -2.5)):
            Rectangle(F2_W_3, F2_H_3)
        with Locations((26.865, -2.5)):
            Rectangle(F2_W_3, F2_H_3)
        with Locations((-14.5, -4.5)):
            Rectangle(F2_W_4, F2_H_4)
        with Locations((11, -1.5)):
            Rectangle(F2_W_5, F2_H_4)
        with Locations((22.5, -2.5)):
            Rectangle(F2_W_6, F2_H_4)
        with Locations((1.5, 6.75)):
            Rectangle(F2_W_4, F2_H_5)
        with Locations((19.75, -6.5)):
            Rectangle(F2_W_7, F2_H_6)
        with Locations((23.238, -7.524)):
            Rectangle(F2_W_8, F2_H_7)
        Polygon((24.2, 4), (23.5, 3.3), (23.5, 1.2), (24.2, 0.5), (26.3, 0.5), (27, 1.2), (27, 3.3), (26.3, 4), align=None)
    extrude(amount=F10_DEPTH)


solid = f3.part
